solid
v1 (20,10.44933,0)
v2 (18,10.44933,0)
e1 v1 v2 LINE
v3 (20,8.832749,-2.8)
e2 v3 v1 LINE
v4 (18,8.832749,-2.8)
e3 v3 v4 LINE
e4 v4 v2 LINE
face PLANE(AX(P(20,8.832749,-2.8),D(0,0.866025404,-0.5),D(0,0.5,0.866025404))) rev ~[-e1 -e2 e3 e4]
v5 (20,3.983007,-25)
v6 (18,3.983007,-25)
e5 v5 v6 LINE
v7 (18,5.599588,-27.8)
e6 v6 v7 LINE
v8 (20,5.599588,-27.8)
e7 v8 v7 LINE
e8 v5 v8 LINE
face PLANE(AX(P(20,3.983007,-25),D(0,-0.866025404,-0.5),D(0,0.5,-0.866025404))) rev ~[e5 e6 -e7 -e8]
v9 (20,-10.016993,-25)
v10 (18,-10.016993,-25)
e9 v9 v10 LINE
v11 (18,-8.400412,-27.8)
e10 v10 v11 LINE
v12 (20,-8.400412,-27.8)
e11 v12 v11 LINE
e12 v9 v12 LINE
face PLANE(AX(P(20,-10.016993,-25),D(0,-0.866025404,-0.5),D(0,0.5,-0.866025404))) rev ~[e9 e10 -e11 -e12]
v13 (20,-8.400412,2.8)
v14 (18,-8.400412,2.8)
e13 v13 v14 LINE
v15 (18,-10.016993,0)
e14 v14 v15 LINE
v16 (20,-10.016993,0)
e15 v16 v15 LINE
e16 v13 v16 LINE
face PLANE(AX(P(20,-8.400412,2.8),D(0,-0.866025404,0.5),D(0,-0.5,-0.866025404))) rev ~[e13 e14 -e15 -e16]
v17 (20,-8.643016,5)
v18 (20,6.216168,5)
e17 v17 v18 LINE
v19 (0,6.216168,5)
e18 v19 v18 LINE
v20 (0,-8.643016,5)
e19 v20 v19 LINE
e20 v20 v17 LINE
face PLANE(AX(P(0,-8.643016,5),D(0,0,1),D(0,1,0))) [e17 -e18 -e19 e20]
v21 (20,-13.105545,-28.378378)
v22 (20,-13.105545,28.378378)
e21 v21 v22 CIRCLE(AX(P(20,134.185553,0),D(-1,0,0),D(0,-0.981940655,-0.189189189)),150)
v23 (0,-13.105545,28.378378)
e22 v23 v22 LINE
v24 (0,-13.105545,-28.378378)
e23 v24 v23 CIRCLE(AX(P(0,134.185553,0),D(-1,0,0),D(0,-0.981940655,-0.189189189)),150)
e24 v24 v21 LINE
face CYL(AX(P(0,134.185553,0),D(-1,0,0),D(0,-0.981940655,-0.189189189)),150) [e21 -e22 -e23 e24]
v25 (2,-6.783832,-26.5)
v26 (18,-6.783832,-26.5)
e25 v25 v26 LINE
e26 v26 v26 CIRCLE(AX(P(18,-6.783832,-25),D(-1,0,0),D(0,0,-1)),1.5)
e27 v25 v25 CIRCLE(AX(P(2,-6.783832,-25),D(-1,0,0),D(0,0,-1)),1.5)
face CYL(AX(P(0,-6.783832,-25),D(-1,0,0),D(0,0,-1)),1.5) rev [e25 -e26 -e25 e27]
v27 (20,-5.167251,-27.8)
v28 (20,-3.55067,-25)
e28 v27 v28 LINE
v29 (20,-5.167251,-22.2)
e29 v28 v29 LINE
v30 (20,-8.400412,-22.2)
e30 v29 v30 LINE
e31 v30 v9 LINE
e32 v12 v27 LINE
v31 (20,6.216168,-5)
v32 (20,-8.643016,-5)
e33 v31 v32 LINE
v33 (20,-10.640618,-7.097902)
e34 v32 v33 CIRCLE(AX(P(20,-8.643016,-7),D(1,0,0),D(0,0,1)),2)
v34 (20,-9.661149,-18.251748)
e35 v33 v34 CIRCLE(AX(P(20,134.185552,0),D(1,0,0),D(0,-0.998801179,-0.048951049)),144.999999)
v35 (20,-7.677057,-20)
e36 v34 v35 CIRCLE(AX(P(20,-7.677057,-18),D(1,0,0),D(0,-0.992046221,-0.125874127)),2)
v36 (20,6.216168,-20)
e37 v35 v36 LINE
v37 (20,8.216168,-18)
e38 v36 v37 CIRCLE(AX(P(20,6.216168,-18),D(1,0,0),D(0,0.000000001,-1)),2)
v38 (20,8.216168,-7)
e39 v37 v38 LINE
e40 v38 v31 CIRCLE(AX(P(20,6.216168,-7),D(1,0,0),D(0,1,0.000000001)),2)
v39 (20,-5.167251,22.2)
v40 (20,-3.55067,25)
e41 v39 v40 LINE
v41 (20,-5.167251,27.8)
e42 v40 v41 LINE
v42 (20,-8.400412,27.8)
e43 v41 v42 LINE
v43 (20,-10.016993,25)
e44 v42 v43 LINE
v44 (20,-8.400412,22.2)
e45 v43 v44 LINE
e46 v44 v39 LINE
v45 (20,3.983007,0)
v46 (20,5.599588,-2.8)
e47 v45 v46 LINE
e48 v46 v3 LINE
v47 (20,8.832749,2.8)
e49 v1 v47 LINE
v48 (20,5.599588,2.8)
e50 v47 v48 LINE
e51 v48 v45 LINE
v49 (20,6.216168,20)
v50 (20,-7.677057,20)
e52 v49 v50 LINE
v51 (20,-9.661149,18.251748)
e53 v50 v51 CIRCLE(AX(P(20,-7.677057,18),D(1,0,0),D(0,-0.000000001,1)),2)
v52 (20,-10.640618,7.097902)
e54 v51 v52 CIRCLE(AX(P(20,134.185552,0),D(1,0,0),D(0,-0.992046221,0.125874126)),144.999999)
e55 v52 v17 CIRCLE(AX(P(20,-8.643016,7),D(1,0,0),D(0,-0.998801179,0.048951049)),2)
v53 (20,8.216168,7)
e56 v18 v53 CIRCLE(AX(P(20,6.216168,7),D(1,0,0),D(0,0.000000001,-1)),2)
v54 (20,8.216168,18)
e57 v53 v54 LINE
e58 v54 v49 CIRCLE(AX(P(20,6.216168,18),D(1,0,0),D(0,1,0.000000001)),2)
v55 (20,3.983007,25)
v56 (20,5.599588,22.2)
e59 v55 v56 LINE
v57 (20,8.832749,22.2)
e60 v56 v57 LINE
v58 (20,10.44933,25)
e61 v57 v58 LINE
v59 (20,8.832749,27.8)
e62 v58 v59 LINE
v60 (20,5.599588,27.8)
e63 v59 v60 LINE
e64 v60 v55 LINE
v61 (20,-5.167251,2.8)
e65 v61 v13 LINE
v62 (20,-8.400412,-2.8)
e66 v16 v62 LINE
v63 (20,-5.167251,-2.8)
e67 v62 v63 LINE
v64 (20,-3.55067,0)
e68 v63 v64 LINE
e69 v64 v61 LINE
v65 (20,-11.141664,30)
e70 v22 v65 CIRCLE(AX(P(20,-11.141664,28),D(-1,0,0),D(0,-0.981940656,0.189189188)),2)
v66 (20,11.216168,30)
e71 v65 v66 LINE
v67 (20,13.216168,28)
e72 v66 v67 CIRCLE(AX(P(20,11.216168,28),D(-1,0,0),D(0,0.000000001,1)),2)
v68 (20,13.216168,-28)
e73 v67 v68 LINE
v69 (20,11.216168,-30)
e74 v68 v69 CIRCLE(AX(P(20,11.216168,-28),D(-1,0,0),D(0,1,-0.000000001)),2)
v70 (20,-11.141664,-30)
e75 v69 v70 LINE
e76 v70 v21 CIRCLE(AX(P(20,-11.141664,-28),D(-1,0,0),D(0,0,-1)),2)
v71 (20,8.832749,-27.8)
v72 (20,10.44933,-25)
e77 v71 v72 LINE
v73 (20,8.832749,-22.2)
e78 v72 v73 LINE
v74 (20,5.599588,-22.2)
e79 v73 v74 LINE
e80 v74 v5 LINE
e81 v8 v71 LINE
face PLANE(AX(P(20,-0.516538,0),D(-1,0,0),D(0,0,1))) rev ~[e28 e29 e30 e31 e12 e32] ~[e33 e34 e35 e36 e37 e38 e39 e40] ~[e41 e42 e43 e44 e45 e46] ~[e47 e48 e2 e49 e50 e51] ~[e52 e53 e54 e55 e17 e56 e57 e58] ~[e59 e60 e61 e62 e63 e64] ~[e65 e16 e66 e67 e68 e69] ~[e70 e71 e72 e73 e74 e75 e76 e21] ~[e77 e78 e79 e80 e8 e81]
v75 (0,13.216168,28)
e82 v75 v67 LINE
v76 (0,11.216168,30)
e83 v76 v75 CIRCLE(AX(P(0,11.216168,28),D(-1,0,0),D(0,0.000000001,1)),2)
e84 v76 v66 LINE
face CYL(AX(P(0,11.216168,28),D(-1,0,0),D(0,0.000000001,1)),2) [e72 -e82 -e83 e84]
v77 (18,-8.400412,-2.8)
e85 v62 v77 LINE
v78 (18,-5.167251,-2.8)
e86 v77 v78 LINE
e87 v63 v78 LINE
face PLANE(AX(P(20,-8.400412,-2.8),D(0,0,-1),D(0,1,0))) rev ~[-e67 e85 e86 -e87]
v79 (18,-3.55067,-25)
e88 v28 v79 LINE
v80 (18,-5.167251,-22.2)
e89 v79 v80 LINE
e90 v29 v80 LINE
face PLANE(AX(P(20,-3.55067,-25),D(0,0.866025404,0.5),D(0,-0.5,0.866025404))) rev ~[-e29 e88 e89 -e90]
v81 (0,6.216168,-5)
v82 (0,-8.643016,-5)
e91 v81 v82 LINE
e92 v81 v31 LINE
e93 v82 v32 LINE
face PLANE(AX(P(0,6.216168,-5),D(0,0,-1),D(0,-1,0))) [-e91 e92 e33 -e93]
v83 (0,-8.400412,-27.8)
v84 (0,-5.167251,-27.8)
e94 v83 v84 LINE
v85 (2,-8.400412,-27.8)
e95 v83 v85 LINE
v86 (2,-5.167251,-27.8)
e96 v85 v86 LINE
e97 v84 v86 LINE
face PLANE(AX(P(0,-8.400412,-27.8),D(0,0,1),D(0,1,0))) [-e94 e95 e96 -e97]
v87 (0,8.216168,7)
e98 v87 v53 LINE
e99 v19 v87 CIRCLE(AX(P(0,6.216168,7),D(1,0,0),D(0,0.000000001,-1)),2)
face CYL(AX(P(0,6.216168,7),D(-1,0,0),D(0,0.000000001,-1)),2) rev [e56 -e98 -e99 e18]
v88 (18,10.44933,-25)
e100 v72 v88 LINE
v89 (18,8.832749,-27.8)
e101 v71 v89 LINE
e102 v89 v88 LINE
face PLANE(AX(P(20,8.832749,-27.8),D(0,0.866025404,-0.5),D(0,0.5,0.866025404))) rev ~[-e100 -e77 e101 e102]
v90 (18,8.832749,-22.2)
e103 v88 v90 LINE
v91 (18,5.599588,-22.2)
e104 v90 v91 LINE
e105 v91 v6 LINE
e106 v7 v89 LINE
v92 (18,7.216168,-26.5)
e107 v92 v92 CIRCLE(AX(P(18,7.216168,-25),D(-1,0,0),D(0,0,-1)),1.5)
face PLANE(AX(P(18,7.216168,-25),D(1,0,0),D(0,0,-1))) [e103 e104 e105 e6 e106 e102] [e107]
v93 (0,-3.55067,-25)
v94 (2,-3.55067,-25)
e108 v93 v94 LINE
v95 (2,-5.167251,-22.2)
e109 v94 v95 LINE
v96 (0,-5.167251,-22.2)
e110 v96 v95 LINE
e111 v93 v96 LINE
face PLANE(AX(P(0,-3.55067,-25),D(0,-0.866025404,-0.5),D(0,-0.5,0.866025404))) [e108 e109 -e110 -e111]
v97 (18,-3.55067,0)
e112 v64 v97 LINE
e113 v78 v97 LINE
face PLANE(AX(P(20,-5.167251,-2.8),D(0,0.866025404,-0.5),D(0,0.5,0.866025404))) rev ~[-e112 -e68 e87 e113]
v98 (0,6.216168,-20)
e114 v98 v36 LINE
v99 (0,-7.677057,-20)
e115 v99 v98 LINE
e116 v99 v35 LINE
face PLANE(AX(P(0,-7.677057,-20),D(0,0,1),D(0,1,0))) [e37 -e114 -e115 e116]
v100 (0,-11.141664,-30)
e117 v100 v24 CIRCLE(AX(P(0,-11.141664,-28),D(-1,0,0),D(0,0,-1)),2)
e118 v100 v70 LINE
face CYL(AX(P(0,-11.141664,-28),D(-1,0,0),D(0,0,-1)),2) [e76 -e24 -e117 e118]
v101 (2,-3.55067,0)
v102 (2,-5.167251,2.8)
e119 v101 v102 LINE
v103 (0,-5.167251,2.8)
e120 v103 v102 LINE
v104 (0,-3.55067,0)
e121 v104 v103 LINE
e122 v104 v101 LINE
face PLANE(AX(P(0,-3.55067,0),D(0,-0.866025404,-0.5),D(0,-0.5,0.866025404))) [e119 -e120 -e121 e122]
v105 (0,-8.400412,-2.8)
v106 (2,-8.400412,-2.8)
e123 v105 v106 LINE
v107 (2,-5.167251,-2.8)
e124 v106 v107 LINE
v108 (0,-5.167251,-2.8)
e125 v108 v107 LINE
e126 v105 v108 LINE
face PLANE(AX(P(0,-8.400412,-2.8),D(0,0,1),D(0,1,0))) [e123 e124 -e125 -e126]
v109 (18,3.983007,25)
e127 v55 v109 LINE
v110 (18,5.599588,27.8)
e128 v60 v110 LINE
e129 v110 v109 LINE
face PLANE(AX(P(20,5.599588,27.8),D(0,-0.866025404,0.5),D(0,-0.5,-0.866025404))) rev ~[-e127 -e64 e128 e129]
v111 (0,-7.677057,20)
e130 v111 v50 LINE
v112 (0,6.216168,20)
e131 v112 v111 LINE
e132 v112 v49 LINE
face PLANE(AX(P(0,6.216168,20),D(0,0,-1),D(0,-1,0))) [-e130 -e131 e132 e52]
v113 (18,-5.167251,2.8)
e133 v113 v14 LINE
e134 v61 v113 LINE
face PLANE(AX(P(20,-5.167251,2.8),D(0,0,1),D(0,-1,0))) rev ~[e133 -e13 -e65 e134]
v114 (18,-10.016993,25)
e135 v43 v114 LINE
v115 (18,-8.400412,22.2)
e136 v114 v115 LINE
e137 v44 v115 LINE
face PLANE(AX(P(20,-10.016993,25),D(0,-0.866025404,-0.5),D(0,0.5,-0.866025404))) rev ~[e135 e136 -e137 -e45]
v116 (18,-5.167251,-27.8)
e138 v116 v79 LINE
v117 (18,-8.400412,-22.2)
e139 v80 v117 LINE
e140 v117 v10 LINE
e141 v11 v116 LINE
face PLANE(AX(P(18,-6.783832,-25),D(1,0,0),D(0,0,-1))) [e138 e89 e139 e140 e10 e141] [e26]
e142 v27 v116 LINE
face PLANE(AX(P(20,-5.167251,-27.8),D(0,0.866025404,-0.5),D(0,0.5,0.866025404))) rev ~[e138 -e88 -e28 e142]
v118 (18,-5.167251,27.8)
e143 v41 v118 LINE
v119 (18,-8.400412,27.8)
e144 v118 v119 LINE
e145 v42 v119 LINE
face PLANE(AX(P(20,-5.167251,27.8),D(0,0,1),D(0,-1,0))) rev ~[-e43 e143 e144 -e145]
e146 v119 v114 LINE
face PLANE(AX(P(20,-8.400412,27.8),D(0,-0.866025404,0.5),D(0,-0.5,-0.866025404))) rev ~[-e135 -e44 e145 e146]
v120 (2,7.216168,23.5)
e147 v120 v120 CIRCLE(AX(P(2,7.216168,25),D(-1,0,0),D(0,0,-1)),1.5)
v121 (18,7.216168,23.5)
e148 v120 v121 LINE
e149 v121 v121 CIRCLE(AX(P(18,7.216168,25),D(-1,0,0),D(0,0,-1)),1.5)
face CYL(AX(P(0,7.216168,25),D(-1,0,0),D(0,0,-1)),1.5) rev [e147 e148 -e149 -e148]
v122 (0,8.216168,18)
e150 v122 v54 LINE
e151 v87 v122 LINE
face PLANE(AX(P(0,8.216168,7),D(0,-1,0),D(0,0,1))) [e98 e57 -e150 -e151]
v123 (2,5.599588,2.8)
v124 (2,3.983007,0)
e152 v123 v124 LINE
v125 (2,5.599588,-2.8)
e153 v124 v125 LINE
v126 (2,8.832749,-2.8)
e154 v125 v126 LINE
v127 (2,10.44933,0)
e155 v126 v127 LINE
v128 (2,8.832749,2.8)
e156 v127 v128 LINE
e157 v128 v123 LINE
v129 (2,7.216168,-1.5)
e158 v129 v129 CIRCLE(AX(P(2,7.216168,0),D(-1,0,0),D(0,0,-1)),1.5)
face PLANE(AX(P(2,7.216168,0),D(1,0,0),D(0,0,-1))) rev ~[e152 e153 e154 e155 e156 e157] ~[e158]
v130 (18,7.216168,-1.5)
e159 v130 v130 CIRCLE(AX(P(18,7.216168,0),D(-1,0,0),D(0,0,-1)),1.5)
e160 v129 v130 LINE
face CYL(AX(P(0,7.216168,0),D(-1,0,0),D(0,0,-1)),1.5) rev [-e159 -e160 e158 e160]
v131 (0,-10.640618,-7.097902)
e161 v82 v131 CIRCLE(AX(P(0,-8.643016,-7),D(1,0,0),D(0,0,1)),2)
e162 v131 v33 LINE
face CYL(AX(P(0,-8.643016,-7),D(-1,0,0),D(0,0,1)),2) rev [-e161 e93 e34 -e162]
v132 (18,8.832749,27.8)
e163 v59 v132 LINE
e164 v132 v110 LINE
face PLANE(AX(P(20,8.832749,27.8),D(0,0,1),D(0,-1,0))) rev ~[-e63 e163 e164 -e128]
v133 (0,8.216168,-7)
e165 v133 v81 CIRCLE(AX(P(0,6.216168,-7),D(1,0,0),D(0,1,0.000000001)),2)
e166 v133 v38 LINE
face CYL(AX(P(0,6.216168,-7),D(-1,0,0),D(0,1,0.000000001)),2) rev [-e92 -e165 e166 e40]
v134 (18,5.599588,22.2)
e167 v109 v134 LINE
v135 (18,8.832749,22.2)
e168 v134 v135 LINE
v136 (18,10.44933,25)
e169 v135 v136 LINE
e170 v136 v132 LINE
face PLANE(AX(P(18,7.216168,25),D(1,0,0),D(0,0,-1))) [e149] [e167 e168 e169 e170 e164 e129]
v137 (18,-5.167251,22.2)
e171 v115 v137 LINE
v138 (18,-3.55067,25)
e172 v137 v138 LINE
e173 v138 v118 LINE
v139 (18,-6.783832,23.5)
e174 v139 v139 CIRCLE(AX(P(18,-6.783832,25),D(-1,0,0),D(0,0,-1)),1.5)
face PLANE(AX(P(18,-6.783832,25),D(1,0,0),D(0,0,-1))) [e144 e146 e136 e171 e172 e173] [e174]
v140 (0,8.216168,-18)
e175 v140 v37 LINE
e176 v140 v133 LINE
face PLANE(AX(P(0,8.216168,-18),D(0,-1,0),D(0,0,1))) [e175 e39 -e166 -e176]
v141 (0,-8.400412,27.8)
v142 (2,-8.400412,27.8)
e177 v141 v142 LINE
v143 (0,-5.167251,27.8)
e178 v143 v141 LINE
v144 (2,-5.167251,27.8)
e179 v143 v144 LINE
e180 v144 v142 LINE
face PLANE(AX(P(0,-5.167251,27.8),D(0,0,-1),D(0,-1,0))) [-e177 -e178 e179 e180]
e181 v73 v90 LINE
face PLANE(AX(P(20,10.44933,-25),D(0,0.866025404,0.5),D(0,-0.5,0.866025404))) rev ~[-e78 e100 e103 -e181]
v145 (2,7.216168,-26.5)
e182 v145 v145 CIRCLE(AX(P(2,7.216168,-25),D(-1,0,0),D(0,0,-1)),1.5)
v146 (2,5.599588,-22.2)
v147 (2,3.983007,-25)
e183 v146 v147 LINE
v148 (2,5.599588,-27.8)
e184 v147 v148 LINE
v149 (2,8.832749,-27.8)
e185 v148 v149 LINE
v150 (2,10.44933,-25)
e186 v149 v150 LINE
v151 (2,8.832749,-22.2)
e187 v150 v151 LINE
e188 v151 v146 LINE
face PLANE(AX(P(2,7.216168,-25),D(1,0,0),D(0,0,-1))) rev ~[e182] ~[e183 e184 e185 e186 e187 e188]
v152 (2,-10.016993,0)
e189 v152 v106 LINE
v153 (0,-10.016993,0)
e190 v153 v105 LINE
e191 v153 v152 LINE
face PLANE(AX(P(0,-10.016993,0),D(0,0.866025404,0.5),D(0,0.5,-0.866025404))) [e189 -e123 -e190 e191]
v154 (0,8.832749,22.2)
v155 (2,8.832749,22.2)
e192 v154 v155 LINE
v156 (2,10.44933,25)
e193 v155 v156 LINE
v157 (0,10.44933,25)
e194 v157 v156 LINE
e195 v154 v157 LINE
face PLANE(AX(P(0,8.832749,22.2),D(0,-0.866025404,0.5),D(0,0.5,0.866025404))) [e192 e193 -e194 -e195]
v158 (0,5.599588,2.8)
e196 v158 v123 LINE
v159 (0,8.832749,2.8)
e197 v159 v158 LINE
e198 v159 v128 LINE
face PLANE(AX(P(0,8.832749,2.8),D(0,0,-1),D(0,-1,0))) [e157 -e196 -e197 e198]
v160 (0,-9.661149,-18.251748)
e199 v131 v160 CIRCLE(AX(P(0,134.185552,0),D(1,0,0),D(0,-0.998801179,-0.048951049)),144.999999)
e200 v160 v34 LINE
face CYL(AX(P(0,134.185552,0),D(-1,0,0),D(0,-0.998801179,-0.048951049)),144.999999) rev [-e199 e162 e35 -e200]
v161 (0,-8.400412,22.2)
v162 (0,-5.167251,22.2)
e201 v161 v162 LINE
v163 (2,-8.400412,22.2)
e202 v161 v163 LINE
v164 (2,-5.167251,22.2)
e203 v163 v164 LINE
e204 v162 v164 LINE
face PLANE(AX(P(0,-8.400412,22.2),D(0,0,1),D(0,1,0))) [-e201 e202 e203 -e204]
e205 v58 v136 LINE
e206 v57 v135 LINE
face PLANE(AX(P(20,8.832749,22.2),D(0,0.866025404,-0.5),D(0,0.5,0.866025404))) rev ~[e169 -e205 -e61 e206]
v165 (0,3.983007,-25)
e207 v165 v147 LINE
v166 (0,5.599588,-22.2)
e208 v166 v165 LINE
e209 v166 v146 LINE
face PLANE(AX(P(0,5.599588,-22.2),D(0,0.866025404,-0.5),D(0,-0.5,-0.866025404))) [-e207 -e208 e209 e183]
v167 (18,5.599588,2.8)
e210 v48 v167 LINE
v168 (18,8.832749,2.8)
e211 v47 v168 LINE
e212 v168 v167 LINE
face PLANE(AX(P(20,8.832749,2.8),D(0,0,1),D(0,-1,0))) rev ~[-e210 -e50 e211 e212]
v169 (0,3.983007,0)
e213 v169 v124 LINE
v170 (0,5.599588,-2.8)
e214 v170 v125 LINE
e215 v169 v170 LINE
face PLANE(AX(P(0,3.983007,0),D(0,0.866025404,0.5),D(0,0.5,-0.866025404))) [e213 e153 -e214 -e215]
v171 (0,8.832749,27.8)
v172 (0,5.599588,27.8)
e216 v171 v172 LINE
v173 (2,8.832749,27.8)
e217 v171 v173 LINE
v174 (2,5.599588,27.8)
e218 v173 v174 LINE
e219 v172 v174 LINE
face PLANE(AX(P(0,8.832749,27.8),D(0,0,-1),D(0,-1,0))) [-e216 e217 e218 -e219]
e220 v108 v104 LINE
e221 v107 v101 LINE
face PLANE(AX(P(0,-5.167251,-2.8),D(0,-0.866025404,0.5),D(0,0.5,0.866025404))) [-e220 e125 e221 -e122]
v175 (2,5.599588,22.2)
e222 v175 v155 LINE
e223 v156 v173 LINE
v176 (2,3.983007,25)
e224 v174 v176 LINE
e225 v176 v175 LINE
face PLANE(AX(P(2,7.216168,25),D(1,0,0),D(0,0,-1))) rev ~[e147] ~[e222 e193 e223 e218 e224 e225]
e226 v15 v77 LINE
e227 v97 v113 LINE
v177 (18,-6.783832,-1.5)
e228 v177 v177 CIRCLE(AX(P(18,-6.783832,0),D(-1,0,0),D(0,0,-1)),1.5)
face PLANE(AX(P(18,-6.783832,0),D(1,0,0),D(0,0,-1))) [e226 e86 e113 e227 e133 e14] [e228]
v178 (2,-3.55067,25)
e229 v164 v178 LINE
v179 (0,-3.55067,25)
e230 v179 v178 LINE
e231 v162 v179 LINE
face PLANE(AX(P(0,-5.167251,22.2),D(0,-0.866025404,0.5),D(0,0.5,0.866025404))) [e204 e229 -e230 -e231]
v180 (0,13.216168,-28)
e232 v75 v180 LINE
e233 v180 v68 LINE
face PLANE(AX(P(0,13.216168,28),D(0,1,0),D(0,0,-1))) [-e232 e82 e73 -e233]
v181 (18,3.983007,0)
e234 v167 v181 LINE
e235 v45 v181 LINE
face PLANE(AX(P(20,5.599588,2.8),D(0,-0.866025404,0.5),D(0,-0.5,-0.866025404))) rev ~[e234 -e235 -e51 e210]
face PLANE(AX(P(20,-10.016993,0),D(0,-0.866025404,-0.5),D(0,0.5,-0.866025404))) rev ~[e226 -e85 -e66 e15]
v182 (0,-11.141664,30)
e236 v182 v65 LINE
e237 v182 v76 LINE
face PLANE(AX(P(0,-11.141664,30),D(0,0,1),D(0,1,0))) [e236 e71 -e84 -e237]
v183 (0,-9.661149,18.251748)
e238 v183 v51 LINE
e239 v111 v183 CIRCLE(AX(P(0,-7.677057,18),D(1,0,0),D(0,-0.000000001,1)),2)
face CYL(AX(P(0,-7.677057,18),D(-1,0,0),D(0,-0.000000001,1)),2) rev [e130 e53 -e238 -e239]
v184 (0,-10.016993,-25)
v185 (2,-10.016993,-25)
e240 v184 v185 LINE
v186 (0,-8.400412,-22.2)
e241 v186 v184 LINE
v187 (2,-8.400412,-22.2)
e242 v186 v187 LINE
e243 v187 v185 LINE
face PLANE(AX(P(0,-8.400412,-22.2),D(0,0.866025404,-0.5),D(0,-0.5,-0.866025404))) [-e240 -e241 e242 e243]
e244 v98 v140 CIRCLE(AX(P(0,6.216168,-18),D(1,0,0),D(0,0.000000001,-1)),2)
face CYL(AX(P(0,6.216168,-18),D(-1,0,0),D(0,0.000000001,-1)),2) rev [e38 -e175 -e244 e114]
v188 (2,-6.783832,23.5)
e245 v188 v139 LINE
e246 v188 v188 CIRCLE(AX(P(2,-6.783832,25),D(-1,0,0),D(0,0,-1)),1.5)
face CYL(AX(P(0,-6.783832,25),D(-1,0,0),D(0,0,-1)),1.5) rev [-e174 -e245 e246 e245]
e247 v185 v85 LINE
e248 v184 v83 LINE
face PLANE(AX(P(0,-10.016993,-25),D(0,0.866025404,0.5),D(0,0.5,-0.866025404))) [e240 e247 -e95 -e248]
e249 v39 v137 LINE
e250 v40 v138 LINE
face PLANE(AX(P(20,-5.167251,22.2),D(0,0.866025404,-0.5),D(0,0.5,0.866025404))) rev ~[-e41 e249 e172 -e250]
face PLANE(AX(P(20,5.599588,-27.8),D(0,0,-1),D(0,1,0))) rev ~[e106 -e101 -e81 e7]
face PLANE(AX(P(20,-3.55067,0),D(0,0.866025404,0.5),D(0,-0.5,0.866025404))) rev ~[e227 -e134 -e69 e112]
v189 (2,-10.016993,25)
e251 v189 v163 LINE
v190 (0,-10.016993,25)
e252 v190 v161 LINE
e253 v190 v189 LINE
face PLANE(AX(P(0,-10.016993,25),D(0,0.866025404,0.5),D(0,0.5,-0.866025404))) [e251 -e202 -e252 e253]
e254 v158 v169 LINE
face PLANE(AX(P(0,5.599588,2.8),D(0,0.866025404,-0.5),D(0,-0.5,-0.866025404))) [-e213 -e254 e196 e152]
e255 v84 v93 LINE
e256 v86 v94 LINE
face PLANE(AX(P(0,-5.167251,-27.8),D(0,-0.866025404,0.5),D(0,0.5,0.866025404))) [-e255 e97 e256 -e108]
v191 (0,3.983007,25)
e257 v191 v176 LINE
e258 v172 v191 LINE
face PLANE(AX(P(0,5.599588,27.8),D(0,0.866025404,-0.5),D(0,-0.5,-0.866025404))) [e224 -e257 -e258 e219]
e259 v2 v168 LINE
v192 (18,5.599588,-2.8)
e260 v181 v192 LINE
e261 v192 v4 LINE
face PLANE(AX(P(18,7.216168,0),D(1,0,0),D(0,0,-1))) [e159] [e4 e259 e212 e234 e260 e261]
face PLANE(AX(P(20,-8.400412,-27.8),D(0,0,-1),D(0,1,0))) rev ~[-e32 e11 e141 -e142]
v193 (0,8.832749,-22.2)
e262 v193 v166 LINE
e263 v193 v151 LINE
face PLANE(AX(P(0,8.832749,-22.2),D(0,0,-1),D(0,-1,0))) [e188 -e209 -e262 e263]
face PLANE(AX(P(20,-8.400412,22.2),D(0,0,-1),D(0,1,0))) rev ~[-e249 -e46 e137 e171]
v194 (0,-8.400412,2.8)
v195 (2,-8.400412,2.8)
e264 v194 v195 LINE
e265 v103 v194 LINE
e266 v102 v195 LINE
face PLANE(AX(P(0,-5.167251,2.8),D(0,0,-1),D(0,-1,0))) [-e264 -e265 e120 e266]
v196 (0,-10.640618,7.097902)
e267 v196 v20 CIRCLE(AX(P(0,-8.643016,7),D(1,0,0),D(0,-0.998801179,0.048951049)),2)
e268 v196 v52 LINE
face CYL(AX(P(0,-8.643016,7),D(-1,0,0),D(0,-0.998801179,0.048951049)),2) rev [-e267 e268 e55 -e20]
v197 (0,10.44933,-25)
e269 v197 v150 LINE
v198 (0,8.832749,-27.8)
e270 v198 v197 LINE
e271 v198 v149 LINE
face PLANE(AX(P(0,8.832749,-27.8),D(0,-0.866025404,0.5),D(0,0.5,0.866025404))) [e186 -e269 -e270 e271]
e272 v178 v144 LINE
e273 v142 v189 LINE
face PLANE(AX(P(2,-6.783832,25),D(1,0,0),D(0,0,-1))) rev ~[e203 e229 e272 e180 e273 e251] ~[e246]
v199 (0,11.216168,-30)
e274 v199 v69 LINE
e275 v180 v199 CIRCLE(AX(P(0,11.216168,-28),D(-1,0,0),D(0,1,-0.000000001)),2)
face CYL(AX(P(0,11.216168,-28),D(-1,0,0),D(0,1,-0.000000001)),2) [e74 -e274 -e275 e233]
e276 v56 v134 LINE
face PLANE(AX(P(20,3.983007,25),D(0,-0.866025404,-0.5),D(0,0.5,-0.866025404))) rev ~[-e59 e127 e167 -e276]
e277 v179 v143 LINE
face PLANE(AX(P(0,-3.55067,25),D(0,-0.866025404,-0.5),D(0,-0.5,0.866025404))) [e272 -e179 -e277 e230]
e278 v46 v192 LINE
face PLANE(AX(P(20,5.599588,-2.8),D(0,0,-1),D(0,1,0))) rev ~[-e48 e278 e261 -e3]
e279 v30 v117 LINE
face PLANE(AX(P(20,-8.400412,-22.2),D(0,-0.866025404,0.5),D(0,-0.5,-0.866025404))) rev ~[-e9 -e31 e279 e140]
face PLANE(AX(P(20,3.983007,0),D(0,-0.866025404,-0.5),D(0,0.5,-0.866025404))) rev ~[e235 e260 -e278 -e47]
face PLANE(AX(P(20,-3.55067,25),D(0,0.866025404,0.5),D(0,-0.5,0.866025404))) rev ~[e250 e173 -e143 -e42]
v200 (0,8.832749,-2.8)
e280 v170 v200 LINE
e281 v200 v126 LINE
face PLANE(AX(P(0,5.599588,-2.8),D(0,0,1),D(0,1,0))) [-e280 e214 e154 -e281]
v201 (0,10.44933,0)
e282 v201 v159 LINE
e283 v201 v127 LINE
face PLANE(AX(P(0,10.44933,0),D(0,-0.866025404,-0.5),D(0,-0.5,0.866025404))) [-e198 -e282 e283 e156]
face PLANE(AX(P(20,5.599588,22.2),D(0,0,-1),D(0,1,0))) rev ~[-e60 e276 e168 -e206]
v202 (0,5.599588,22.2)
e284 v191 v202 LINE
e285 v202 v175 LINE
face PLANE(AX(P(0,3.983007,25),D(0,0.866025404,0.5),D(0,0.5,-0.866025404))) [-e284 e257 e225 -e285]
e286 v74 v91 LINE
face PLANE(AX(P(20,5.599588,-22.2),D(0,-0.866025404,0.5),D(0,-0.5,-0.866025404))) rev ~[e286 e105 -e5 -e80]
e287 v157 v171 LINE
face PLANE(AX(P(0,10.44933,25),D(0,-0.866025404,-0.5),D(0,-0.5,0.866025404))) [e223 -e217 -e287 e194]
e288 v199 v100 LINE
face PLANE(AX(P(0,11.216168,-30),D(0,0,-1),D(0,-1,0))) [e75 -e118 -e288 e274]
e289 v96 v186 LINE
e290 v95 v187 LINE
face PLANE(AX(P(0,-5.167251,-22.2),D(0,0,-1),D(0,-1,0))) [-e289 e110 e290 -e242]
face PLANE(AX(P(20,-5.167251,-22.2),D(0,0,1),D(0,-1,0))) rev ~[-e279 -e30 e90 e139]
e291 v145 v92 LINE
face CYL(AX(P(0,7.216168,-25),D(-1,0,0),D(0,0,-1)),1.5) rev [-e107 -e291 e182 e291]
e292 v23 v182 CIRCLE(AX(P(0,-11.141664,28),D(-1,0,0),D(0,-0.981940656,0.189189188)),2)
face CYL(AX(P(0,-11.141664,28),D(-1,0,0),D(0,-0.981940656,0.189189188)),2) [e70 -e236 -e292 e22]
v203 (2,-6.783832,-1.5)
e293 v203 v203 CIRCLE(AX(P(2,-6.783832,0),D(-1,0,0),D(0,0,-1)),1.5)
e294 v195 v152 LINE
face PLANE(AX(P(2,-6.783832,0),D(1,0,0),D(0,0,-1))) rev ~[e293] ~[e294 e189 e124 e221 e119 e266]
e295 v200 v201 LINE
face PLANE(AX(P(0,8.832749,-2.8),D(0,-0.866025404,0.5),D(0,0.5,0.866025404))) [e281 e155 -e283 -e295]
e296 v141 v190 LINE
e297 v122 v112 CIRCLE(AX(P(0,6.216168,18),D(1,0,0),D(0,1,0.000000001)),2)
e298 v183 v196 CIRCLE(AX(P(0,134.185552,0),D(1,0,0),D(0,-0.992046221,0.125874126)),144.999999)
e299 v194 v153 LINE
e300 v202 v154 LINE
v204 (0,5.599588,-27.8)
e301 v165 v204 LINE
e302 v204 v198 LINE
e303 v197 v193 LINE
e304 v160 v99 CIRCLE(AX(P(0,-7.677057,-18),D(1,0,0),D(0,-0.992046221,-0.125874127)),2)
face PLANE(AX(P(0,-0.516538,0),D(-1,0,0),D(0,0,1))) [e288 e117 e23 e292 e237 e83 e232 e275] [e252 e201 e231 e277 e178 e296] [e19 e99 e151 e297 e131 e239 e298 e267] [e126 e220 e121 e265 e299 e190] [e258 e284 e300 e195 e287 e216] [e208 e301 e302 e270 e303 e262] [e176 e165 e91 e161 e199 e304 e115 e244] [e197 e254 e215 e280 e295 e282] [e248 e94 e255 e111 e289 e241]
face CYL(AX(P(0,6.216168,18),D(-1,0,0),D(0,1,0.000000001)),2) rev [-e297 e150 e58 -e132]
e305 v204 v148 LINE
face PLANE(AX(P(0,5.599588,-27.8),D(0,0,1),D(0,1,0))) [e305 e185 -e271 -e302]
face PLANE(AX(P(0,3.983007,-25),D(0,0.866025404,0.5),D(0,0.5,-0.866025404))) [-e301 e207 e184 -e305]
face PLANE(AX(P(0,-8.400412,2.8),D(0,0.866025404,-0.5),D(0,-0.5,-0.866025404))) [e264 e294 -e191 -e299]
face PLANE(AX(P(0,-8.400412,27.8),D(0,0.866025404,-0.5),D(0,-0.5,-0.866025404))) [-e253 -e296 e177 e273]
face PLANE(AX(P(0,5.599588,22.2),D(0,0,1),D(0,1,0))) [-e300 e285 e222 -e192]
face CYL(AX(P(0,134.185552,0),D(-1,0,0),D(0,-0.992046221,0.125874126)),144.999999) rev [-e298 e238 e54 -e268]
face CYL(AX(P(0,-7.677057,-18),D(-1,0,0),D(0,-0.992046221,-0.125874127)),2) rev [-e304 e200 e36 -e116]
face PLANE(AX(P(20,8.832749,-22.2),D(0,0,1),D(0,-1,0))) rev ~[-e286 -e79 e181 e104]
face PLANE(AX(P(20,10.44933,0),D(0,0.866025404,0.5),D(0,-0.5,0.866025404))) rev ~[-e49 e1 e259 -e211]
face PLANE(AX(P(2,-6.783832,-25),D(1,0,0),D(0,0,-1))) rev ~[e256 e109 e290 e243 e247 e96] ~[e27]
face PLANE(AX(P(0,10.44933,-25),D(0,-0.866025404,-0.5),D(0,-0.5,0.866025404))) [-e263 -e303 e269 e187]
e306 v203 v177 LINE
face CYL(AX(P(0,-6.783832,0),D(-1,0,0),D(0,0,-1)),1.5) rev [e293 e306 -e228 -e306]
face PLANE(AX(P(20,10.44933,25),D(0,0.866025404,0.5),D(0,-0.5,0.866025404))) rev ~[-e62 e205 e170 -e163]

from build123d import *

# Parameters (mm, degrees)
SKETCH1_R           = 1.5
BOSS_EXTRUDE1_DEPTH = 20
CUT_EXTRUDE1_DEPTH  = 2
CUT_EXTRUDE2_START  = 20
CUT_EXTRUDE2_DEPTH  = 2


with BuildPart() as part:
    # Sketch1 → Boss-Extrude1 (new body)
    with BuildSketch(Plane(origin=(0, 0, 0), x_dir=(0, 0, -1), z_dir=(1, 0, 0))):
        with BuildLine():
            Line((-28, 13.216168298), (28, 13.216168298))
            ThreePointArc((28, 13.216168298), (29.414213562, 12.63038186), (30, 11.216168298))
            Line((30, 11.216168298), (30, -11.141664132))
            ThreePointArc((30, -11.141664132), (29.542199202, -12.415093212), (28.378378378, -13.105545442))
            ThreePointArc((28.378378378, -13.105545442), (0, -15.814447135), (-28.378378378, -13.105545442))
            ThreePointArc((-28.378378378, -13.105545442), (-29.542199202, -12.415093212), (-30, -11.141664132))
            Line((-30, -11.141664132), (-30, 11.216168298))
            ThreePointArc((-30, 11.216168298), (-29.414213562, 12.63038186), (-28, 13.216168298))
        make_face()
        with Locations((0, 7.216168298)):
            Circle(SKETCH1_R, mode=Mode.SUBTRACT)
        with Locations((0, -6.783831702)):
            Circle(SKETCH1_R, mode=Mode.SUBTRACT)
        with Locations((-25, 7.216168298)):
            Circle(SKETCH1_R, mode=Mode.SUBTRACT)
        with Locations((-25, -6.783831702)):
            Circle(SKETCH1_R, mode=Mode.SUBTRACT)
        with Locations((25, 7.216168298)):
            Circle(SKETCH1_R, mode=Mode.SUBTRACT)
        with Locations((25, -6.783831702)):
            Circle(SKETCH1_R, mode=Mode.SUBTRACT)
        with BuildLine():
            Line((-20, 6.216168298), (-20, -7.677056726))
            ThreePointArc((-20, -7.677056726), (-19.500582637, -8.999271439), (-18.251748252, -9.661149168))
            ThreePointArc((-18.251748252, -9.661149168), (-12.684282914, -10.258585012), (-7.097902098, -10.640618063))
            ThreePointArc((-7.097902098, -10.640618063), (-5.620834346, -10.091429355), (-5, -8.643015706))
            Line((-5, -8.643015706), (-5, 6.216168298))
            ThreePointArc((-5, 6.216168298), (-5.585786438, 7.63038186), (-7, 8.216168298))
            Line((-7, 8.216168298), (-18, 8.216168298))
            ThreePointArc((-18, 8.216168298), (-19.414213562, 7.63038186), (-20, 6.216168298))
        make_face(mode=Mode.SUBTRACT)
        with BuildLine():
            Line((5, 6.216168298), (5, -8.643015706))
            ThreePointArc((5, -8.643015706), (5.620834346, -10.091429355), (7.097902098, -10.640618063))
            ThreePointArc((7.097902098, -10.640618063), (12.684282914, -10.258585012), (18.251748252, -9.661149168))
            ThreePointArc((18.251748252, -9.661149168), (19.500582637, -8.999271439), (20, -7.677056726))
            Line((20, -7.677056726), (20, 6.216168298))
            ThreePointArc((20, 6.216168298), (19.414213562, 7.63038186), (18, 8.216168298))
            Line((18, 8.216168298), (7, 8.216168298))
            ThreePointArc((7, 8.216168298), (5.585786438, 7.63038186), (5, 6.216168298))
        make_face(mode=Mode.SUBTRACT)
    extrude(amount=BOSS_EXTRUDE1_DEPTH)

    # Sketch2 → Cut-Extrude1 (cut)
    with BuildSketch(Plane(origin=(0, 0, 0), x_dir=(0, 0, -1), z_dir=(1, 0, 0))):
        Polygon((-25, 3.983006791), (-22.2, 5.599587544), (-22.2, 8.832749052), (-25, 10.449329806), (-27.8, 8.832749052), (-27.8, 5.599587544), align=None)
        Polygon((-25, -10.016993209), (-22.2, -8.400412456), (-22.2, -5.167250948), (-25, -3.550670194), (-27.8, -5.167250948), (-27.8, -8.400412456), align=None)
        Polygon((0, 3.983006791), (2.8, 5.599587544), (2.8, 8.832749052), (0, 10.449329806), (-2.8, 8.832749052), (-2.8, 5.599587544), align=None)
        Polygon((0, -10.016993209), (2.8, -8.400412456), (2.8, -5.167250948), (0, -3.550670194), (-2.8, -5.167250948), (-2.8, -8.400412456), align=None)
        Polygon((25, 3.983006791), (27.8, 5.599587544), (27.8, 8.832749052), (25, 10.449329806), (22.2, 8.832749052), (22.2, 5.599587544), align=None)
        Polygon((25, -10.016993209), (27.8, -8.400412456), (27.8, -5.167250948), (25, -3.550670194), (22.2, -5.167250948), (22.2, -8.400412456), align=None)
    extrude(amount=CUT_EXTRUDE1_DEPTH, mode=Mode.SUBTRACT)

    # Sketch2<2> → Cut-Extrude2 (cut)
    with BuildSketch(Plane(origin=(0, 0, 0), x_dir=(0, 0, -1), z_dir=(1, 0, 0)).offset(CUT_EXTRUDE2_START)):
        Polygon((-25, 3.983006791), (-22.2, 5.599587544), (-22.2, 8.832749052), (-25, 10.449329806), (-27.8, 8.832749052), (-27.8, 5.599587544), align=None)
        Polygon((-25, -10.016993209), (-22.2, -8.400412456), (-22.2, -5.167250948), (-25, -3.550670194), (-27.8, -5.167250948), (-27.8, -8.400412456), align=None)
        Polygon((0, 3.983006791), (2.8, 5.599587544), (2.8, 8.832749052), (0, 10.449329806), (-2.8, 8.832749052), (-2.8, 5.599587544), align=None)
        Polygon((0, -10.016993209), (2.8, -8.400412456), (2.8, -5.167250948), (0, -3.550670194), (-2.8, -5.167250948), (-2.8, -8.400412456), align=None)
        Polygon((25, 3.983006791), (27.8, 5.599587544), (27.8, 8.832749052), (25, 10.449329806), (22.2, 8.832749052), (22.2, 5.599587544), align=None)
        Polygon((25, -10.016993209), (27.8, -8.400412456), (27.8, -5.167250948), (25, -3.550670194), (22.2, -5.167250948), (22.2, -8.400412456), align=None)
    extrude(amount=-CUT_EXTRUDE2_DEPTH, mode=Mode.SUBTRACT)


solid = part.part
